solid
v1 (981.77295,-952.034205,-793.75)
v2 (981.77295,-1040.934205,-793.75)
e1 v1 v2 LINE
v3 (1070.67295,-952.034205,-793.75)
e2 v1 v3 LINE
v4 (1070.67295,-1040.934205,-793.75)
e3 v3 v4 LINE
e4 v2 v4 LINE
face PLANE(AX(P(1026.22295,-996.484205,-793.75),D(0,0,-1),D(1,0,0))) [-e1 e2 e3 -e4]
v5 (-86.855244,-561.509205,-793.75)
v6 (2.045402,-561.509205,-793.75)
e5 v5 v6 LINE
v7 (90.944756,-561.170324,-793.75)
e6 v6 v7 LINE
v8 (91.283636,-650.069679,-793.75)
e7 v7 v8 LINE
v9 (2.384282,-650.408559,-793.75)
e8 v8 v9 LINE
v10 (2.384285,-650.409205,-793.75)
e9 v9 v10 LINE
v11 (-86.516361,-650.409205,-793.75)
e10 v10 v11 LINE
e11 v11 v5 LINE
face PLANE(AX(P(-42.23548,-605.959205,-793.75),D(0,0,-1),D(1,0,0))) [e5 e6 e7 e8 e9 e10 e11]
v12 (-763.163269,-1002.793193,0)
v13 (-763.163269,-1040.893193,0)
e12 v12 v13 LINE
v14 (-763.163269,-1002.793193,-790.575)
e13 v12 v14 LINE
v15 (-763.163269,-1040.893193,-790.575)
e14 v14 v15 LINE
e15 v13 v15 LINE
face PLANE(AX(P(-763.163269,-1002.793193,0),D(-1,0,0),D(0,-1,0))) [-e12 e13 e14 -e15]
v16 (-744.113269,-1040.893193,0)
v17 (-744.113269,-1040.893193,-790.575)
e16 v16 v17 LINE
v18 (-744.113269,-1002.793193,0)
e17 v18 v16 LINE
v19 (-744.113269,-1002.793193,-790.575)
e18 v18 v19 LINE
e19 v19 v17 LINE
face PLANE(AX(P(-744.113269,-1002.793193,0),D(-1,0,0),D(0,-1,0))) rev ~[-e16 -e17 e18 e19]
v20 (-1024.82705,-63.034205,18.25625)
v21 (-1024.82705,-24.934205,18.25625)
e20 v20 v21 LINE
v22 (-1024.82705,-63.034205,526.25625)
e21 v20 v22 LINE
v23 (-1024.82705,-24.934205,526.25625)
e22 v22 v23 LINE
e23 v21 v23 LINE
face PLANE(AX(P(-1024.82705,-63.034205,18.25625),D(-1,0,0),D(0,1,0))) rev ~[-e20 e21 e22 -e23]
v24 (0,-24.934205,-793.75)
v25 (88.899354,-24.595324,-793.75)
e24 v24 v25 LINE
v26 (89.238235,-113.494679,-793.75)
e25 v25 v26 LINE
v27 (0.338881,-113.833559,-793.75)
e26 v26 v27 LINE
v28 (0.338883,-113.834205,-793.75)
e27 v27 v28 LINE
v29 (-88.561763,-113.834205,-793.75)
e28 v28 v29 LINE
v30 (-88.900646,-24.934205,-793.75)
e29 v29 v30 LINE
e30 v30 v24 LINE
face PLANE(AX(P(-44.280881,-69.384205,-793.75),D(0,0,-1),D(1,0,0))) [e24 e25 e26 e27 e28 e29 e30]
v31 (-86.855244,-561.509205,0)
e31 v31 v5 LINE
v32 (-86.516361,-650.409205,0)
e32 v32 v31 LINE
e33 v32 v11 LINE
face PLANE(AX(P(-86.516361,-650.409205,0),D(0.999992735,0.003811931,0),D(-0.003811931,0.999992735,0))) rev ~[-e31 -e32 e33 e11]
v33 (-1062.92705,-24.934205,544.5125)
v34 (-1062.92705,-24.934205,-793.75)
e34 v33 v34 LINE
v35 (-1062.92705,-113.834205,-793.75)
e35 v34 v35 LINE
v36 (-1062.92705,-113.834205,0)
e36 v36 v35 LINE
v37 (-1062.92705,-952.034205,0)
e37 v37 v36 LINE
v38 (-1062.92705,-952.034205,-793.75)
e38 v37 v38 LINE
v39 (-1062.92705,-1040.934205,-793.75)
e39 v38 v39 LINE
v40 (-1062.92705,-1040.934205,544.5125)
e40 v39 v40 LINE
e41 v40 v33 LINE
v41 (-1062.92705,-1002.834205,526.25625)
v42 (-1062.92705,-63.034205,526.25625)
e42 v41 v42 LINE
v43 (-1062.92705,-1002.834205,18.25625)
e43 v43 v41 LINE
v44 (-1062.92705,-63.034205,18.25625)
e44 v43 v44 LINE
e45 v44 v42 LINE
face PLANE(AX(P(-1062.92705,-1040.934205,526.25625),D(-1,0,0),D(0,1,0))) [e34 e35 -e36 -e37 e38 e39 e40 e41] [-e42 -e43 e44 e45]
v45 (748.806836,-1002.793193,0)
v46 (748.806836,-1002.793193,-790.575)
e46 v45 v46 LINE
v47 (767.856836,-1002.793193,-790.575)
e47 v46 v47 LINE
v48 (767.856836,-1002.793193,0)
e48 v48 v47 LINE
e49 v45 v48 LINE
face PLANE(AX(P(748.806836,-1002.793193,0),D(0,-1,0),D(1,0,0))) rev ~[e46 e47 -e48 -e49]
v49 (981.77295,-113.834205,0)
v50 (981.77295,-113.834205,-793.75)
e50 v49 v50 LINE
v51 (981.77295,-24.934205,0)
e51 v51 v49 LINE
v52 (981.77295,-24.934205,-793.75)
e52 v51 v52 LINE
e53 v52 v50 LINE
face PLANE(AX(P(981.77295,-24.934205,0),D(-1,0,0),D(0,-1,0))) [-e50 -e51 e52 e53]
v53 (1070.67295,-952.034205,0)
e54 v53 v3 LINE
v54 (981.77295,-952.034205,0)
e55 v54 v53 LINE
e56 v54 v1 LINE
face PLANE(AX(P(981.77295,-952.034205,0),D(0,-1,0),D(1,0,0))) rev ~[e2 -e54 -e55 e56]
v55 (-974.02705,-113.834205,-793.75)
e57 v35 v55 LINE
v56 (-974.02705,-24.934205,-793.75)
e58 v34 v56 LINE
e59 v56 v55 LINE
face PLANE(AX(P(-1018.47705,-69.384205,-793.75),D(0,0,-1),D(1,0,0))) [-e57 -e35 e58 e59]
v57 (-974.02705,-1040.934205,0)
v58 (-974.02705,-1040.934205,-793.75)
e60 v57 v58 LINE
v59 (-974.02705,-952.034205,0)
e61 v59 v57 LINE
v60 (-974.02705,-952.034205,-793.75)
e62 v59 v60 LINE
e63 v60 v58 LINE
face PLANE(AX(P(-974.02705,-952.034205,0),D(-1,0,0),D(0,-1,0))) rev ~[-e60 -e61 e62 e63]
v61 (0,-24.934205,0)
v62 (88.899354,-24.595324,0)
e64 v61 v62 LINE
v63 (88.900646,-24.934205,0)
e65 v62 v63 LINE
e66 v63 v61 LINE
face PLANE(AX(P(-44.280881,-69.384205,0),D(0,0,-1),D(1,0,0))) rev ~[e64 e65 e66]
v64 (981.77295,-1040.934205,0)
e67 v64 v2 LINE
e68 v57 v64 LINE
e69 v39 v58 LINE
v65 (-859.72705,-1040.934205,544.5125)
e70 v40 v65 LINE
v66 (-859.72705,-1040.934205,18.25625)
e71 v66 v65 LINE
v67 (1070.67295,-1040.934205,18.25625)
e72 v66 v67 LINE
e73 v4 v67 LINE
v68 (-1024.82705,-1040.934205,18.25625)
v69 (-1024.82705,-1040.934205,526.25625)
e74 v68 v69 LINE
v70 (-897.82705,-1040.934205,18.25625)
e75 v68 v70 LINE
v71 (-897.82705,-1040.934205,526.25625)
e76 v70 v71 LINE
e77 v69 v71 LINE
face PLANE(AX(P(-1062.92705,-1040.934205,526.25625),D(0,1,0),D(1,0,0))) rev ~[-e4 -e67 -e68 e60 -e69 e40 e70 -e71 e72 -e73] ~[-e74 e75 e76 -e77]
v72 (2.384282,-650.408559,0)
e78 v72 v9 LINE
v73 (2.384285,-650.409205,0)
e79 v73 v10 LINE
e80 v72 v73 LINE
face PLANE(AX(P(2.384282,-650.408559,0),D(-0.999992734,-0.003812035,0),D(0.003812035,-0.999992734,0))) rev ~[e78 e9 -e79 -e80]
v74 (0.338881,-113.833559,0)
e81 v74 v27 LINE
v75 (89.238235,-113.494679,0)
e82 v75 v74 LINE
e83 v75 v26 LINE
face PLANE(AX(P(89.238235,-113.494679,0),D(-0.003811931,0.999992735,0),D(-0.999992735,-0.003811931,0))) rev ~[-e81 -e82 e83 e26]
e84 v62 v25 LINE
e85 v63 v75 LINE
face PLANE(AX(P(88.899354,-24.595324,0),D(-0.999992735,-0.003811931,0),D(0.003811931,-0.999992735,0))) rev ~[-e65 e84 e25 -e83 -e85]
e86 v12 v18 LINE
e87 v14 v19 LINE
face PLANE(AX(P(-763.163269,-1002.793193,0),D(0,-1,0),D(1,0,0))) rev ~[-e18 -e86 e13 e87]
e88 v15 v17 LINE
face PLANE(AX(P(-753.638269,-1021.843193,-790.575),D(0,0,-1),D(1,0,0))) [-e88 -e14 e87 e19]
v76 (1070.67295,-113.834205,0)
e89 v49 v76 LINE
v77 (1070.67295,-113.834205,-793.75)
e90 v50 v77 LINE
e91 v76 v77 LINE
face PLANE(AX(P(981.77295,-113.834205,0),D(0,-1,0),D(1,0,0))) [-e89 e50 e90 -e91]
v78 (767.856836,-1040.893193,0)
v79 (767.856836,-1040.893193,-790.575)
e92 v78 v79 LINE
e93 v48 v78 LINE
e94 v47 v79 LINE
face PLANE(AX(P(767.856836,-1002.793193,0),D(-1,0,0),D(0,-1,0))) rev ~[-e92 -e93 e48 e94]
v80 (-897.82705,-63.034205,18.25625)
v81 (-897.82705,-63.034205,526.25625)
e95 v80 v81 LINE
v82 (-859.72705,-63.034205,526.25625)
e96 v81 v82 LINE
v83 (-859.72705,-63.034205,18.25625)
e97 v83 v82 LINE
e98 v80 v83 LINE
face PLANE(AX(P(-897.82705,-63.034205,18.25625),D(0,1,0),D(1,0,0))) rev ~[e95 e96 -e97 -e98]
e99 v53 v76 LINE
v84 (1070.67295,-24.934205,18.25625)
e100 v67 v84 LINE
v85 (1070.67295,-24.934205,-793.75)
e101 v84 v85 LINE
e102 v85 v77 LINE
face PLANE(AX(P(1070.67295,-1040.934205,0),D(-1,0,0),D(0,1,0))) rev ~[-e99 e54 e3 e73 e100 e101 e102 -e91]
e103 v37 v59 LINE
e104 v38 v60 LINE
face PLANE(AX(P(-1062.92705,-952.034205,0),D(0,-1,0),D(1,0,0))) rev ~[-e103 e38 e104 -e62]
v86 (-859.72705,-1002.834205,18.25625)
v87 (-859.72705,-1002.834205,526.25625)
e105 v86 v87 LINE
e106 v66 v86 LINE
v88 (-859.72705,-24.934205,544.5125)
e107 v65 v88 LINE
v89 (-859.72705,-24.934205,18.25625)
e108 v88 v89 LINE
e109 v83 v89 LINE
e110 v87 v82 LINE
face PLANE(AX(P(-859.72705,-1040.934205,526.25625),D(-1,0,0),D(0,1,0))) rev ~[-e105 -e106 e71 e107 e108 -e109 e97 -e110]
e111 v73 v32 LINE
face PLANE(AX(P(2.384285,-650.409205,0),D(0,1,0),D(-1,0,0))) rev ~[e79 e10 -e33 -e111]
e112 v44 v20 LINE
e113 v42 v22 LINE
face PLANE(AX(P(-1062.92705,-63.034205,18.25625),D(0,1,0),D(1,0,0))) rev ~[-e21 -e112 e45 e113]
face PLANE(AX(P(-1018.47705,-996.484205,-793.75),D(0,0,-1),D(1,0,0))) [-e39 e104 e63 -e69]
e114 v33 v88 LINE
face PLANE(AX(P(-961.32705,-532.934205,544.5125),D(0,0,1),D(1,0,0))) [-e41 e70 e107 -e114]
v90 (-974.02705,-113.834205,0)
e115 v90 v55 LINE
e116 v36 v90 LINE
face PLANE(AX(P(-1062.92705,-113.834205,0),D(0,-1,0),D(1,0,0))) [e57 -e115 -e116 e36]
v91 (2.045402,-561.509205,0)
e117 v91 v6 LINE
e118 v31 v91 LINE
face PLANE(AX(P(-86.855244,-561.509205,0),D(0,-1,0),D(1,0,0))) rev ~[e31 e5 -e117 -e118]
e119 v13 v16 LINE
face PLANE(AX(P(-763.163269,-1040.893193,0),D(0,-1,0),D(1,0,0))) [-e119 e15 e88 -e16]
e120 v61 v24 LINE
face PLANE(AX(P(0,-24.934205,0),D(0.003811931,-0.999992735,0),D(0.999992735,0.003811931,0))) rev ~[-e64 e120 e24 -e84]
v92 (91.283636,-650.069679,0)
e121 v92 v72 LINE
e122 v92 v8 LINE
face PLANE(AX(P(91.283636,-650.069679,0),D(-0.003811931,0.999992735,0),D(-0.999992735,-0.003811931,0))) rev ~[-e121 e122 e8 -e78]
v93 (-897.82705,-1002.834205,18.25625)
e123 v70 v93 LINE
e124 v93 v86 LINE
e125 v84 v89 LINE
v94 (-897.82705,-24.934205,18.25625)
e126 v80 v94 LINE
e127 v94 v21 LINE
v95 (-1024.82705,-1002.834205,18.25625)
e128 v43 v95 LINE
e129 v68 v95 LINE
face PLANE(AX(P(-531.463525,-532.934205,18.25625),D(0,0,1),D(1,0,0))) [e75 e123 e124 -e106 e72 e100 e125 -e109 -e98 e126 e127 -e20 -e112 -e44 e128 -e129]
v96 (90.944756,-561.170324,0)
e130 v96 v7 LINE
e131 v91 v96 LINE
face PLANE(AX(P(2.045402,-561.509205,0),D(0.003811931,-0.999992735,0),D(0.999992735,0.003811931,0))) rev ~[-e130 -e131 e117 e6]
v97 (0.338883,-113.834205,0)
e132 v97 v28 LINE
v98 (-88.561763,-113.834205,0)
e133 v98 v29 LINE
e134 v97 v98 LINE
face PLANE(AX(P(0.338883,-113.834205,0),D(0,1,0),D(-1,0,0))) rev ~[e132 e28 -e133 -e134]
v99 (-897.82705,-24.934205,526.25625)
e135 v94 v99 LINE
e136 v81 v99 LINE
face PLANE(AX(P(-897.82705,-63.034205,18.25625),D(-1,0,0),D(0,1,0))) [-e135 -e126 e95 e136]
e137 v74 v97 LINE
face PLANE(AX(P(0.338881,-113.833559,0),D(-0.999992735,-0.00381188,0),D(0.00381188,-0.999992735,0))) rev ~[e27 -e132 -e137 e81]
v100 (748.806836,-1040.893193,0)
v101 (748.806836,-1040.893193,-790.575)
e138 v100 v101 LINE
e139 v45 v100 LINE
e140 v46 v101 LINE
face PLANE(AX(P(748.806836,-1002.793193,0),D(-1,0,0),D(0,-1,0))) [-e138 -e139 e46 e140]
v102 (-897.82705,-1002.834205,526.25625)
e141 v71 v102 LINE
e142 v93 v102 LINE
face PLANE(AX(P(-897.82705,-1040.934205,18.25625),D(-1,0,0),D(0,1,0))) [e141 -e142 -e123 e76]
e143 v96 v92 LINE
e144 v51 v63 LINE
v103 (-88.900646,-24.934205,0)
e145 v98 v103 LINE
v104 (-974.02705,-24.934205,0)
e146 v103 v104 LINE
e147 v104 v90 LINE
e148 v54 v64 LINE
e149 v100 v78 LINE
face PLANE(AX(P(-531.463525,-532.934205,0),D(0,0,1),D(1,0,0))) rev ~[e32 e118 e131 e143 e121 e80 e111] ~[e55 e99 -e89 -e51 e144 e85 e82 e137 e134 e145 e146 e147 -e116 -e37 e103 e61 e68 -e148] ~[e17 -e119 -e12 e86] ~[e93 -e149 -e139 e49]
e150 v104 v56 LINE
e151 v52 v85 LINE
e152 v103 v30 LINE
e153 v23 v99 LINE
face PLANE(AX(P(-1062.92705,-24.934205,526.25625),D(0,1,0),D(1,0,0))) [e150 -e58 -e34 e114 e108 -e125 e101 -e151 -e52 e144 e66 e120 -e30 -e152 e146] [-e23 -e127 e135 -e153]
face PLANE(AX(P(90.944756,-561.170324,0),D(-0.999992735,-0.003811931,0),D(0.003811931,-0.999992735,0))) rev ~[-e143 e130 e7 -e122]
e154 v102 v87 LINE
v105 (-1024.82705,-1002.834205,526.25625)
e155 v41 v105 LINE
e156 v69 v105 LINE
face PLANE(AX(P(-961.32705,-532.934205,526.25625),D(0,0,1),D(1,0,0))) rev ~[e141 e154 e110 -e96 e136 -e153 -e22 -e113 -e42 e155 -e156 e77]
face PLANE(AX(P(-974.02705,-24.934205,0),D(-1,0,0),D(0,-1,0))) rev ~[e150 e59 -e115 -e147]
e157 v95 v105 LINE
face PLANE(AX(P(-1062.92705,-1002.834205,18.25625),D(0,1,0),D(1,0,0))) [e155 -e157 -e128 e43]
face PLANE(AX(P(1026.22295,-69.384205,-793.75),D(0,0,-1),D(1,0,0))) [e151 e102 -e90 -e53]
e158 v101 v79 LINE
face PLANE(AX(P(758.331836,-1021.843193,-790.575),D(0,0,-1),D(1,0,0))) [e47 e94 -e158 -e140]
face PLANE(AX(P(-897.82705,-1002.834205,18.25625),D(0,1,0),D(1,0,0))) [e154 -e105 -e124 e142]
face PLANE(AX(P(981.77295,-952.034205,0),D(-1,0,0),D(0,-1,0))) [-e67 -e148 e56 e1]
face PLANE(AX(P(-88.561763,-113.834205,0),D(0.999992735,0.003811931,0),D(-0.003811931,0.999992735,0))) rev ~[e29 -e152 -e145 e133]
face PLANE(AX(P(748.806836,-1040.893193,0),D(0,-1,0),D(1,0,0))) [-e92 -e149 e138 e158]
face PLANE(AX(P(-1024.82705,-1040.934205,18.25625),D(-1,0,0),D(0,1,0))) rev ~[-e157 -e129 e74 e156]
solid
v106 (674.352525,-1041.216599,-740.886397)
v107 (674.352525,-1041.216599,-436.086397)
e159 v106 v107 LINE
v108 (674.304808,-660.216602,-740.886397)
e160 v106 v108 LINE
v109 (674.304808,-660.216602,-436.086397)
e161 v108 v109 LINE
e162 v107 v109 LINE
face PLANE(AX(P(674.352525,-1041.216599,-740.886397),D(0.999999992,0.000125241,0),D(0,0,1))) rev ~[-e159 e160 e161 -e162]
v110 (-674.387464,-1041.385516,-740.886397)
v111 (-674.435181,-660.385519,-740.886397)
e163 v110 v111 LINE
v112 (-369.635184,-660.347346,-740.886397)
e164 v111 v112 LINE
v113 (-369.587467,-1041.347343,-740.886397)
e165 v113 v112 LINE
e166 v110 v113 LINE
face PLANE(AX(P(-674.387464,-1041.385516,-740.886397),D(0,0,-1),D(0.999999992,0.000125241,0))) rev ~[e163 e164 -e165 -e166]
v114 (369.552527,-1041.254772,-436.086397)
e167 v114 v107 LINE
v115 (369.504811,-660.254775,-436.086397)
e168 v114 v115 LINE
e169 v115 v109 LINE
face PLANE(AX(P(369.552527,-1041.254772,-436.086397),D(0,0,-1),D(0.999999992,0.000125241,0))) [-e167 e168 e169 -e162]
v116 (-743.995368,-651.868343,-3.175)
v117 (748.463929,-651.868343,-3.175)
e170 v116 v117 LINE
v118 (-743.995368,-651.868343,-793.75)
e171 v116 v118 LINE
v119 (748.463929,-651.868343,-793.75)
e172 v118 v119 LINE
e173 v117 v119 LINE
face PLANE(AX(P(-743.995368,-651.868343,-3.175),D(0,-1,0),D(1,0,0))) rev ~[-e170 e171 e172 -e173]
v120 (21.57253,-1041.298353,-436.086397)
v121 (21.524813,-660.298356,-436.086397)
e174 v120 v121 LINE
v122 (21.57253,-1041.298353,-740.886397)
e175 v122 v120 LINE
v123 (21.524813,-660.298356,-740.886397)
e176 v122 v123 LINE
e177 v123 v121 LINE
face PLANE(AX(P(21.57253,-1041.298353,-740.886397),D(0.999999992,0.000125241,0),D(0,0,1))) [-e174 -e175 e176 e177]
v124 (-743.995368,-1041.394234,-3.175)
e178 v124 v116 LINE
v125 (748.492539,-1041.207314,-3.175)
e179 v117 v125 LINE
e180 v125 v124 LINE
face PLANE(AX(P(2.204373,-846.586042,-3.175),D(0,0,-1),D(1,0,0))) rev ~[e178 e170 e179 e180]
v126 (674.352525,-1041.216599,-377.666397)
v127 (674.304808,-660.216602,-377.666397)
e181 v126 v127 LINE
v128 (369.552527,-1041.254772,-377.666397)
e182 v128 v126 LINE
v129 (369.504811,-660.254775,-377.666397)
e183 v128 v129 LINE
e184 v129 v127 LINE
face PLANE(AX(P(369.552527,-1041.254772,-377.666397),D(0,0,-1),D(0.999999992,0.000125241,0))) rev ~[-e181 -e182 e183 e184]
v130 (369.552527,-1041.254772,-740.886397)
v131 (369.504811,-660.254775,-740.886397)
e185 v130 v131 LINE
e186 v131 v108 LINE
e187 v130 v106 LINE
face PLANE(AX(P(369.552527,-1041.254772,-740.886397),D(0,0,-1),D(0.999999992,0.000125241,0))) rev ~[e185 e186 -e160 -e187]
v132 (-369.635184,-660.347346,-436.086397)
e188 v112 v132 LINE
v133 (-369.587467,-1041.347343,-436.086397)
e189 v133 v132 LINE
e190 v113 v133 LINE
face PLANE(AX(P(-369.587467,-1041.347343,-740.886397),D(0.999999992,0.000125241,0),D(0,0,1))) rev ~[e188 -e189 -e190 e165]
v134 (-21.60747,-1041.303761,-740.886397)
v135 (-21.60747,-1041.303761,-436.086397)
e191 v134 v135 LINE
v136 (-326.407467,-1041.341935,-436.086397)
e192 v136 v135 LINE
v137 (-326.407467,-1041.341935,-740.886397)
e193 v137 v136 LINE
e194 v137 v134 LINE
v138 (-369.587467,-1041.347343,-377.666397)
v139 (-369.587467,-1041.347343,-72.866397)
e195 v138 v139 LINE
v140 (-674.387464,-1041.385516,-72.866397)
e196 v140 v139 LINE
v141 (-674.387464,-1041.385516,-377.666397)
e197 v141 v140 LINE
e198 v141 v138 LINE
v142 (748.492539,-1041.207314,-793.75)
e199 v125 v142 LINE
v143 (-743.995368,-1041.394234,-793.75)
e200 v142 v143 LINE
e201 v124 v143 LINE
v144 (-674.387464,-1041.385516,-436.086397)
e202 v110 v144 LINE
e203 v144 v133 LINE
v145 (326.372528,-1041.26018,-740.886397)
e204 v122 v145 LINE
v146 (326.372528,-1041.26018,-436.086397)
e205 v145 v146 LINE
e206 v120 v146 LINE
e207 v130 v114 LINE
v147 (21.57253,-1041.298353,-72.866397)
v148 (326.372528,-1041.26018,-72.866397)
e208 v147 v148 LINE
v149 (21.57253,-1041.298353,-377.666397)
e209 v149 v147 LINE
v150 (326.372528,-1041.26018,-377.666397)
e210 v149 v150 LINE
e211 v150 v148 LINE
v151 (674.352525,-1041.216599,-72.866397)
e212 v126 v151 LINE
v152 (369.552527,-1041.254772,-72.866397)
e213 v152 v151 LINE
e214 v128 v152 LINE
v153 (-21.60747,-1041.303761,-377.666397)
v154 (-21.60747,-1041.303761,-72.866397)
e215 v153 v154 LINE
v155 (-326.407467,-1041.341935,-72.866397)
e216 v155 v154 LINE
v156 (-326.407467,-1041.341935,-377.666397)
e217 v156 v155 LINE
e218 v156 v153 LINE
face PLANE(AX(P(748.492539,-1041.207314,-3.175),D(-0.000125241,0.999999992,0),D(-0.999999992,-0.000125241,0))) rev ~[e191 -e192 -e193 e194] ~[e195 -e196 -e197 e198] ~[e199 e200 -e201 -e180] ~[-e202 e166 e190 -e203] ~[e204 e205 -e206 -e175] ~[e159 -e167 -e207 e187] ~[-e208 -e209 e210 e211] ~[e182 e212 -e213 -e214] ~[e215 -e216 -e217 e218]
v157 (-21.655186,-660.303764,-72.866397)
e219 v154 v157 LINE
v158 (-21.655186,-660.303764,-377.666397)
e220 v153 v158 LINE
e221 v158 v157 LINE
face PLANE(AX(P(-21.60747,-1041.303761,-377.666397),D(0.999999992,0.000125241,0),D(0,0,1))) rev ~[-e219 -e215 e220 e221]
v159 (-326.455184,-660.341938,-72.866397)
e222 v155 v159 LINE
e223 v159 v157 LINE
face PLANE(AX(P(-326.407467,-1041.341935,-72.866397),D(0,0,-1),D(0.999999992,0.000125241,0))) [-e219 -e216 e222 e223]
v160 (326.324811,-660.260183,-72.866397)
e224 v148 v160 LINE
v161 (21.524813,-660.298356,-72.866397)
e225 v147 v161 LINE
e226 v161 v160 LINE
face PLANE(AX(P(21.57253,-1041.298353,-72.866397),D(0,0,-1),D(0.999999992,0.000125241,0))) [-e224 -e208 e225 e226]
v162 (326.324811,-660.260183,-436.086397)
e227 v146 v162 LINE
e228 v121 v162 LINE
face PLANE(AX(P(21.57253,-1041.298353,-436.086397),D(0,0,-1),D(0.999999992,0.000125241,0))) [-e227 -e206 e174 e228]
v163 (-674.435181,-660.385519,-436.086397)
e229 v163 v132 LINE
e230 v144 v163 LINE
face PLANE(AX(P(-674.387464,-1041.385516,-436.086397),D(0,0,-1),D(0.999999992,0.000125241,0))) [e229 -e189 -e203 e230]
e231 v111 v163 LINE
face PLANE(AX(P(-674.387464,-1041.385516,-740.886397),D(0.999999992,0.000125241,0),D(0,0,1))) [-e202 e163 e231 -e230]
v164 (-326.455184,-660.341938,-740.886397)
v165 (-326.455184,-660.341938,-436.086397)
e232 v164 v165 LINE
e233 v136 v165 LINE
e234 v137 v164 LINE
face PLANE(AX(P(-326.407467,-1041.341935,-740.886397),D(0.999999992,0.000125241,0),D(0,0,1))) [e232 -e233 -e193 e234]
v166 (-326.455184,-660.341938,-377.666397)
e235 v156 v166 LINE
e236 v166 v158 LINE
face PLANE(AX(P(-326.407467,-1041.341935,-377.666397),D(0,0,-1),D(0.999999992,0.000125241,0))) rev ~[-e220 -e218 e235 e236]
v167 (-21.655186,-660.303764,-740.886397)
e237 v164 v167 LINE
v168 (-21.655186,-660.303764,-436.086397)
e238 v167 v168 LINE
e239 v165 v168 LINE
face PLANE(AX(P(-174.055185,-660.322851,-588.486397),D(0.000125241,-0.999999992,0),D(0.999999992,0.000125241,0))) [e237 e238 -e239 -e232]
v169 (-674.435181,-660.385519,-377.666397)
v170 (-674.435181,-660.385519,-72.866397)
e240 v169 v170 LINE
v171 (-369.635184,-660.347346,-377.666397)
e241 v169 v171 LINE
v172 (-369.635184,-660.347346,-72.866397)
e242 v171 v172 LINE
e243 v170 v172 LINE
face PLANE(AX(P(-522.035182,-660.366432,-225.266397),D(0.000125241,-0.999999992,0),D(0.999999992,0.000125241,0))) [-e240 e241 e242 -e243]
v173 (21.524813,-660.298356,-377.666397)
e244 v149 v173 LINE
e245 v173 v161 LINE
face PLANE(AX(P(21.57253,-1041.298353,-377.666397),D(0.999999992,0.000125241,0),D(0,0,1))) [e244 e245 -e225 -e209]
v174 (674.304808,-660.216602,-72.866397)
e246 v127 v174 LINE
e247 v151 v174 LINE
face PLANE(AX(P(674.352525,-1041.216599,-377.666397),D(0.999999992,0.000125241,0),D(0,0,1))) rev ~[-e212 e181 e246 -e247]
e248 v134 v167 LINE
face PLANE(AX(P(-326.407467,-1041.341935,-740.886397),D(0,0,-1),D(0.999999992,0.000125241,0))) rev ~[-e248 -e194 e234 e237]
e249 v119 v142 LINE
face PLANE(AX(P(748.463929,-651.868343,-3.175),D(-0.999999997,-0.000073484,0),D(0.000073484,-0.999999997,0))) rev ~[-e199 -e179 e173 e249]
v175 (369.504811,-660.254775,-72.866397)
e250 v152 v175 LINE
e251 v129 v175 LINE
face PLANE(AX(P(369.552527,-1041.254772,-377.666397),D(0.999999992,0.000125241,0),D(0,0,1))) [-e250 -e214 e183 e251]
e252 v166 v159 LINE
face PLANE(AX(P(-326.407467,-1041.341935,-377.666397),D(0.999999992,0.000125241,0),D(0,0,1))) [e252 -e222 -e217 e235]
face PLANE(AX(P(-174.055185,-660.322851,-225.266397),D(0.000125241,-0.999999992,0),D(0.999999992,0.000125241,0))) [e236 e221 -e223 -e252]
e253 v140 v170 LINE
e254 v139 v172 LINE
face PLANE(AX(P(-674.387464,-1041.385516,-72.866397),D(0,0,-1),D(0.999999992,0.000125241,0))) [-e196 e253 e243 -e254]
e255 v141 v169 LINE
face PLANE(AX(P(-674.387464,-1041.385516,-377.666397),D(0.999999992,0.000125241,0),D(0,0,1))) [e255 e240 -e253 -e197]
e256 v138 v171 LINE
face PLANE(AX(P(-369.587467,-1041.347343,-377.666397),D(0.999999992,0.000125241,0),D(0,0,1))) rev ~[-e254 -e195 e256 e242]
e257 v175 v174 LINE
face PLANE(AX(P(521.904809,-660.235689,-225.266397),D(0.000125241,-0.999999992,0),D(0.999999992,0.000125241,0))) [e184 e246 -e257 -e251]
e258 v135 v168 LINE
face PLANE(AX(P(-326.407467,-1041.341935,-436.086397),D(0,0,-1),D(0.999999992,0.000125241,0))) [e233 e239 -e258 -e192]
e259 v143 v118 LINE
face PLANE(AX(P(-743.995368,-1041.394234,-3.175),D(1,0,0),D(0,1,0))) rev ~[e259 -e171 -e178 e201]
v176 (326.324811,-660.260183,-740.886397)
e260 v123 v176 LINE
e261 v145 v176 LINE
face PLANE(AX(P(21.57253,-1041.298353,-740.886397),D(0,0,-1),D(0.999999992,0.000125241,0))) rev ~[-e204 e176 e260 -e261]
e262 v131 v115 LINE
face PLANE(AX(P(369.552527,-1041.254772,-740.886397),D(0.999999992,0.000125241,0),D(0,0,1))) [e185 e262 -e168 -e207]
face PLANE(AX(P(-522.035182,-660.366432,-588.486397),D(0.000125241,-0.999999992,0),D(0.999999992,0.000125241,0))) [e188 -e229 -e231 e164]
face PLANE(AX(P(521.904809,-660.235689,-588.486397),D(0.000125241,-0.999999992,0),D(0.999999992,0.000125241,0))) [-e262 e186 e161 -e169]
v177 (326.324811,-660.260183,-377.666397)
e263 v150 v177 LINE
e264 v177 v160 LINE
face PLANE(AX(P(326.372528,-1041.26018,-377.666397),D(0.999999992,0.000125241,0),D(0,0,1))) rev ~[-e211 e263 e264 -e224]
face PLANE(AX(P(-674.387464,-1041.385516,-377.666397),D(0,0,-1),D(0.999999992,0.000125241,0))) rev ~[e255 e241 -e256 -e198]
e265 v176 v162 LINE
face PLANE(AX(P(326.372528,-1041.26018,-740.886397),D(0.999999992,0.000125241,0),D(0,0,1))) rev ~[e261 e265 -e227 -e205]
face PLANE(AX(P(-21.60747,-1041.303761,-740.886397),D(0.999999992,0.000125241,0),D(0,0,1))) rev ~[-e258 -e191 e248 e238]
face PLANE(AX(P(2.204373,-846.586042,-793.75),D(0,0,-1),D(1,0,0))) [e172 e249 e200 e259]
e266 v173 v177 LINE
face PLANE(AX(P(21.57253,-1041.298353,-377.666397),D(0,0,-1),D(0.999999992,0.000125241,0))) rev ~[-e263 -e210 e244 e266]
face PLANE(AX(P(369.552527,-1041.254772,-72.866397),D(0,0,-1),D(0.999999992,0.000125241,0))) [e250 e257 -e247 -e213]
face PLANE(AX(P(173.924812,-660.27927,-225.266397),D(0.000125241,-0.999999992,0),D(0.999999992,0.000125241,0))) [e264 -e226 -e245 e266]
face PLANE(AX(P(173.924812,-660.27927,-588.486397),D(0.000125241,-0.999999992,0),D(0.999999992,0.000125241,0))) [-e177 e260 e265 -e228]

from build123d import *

# Parameters (mm, degrees)
F0_W      = 1062.92705037
F0_H      = 1016
F0_W_2    = 1070.67294963
F1_DEPTH  = 18.25625
F2_W      = 88.9
F2_H      = 88.9
F3_DEPTH  = 793.75
F6_DEPTH  = 790.575
F7_W      = 304.8
F7_H      = 304.8
F8_DEPTH  = 381
F9_W      = 19.05
F9_H      = 38.1
F10_DEPTH = 790.575
F11_W     = 38.1
F11_H     = 38.1
F12_DEPTH = 508
F13_W     = 203.2
F13_H     = 1016
F14_DEPTH = 18.25625


with BuildPart() as f1:
    # F0 (on Top) → F1 (new body)
    with BuildSketch(Plane.XY):
        with Locations((-531.463525185, -532.9342050552)):
            Rectangle(F0_W, F0_H)
        with Locations((535.336474815, -532.9342050552)):
            Rectangle(F0_W_2, F0_H)
    extrude(amount=F1_DEPTH)

    # F2 (on face) → F3 (join)
    with BuildSketch(Plane(origin=(0, 0, 0), x_dir=(1, 0, 0), z_dir=(0, 0, -1))):
        with Locations((-1018.47705037, 996.4842050552)):
            Rectangle(F2_W, F2_H)
        with Locations((-1018.47705037, 69.3842050552)):
            Rectangle(F2_W, F2_H)
        with Locations((1026.22294963, 69.3842050552)):
            Rectangle(F2_W, F2_H)
        with Locations((1026.22294963, 996.4842050552)):
            Rectangle(F2_W, F2_H)
        Polygon((2.384284616, 650.4092050552), (-86.5163612858, 650.4092050552), (-86.8552443784, 561.5092050552), (2.0454015234, 561.5092050552), (2.3842821538, 650.4085591582), align=None)
        Polygon((91.2836362568, 650.0696785277), (2.3842821538, 650.4085591582), (2.0454015234, 561.5092050552), (90.9447556263, 561.1703244247), align=None)
        Polygon((0.3388830926, 113.8342050552), (-88.5617628091, 113.8342050552), (-88.9006459018, 24.9342050552), (0, 24.9342050552), (0.3388806305, 113.8335591582), align=None)
        Polygon((89.2382347334, 113.4946785277), (0.3388806305, 113.8335591582), (0, 24.9342050552), (88.8993541029, 24.5953244247), align=None)
    extrude(amount=F3_DEPTH)

    # F9 (on face) → F10 (join)
    with BuildSketch(Plane(origin=(0, 0, 0), x_dir=(1, 0, 0), z_dir=(0, 0, -1))):
        with Locations((758.331836319, 1021.8431928635)):
            Rectangle(F9_W, F9_H)
        with Locations((-753.6382685661, 1021.8431928635)):
            Rectangle(F9_W, F9_H)
    extrude(amount=F10_DEPTH)

    # F11 (on face) → F12 (join)
    with BuildSketch(Plane.XY.offset(18.25625)):
        with Locations((-1043.87705037, -43.9842050552)):
            Rectangle(F11_W, F11_H)
        with Locations((-878.77705037, -43.9842050552)):
            Rectangle(F11_W, F11_H)
        with Locations((-1043.87705037, -1021.8842050552)):
            Rectangle(F11_W, F11_H)
        with Locations((-878.77705037, -1021.8842050552)):
            Rectangle(F11_W, F11_H)
    extrude(amount=F12_DEPTH)

    # F13 (on face) → F14 (join)
    with BuildSketch(Plane.XY.offset(526.25625)):
        with Locations((-961.32705037, -532.9342050552)):
            Rectangle(F13_W, F13_H)
    extrude(amount=F14_DEPTH)


with BuildPart() as f6:
    # F5 (on offset) → F6 (new body)
    with BuildSketch(Plane(origin=(0, 0, -3.175), x_dir=(1, 0, 0), z_dir=(0, 0, -1))):
        Polygon((748.492538929, 1041.2073135376), (-743.9953684807, 1041.3942337036), (-743.9953684807, 651.8683433533), (748.4639286995, 651.8683433533), align=None)
    extrude(amount=F6_DEPTH)

    # F7 (on face) → F8 (cut)
    with BuildSketch(Plane(origin=(0.1304132262, -1041.3010389019, 0), x_dir=(0.9999999922, 0.0001252407, 0), z_dir=(0.0001252407, -0.9999999922, 0))):
        with Locations((-522.117882967, -225.2663967781)):
            Rectangle(F7_W, F7_H)
        with Locations((-522.117882967, -588.4863967781)):
            Rectangle(F7_W, F7_H)
        with Locations((-174.137882967, -225.2663967781)):
            Rectangle(F7_W, F7_H)
        with Locations((-174.137882967, -588.4863967781)):
            Rectangle(F7_W, F7_H)
        with Locations((173.842117033, -225.2663967781)):
            Rectangle(F7_W, F7_H)
        with Locations((173.842117033, -588.4863967781)):
            Rectangle(F7_W, F7_H)
        with Locations((521.822117033, -225.2663967781)):
            Rectangle(F7_W, F7_H)
        with Locations((521.822117033, -588.4863967781)):
            Rectangle(F7_W, F7_H)
    extrude(amount=-F8_DEPTH, mode=Mode.SUBTRACT)


solid = Compound([f1.part, f6.part])
